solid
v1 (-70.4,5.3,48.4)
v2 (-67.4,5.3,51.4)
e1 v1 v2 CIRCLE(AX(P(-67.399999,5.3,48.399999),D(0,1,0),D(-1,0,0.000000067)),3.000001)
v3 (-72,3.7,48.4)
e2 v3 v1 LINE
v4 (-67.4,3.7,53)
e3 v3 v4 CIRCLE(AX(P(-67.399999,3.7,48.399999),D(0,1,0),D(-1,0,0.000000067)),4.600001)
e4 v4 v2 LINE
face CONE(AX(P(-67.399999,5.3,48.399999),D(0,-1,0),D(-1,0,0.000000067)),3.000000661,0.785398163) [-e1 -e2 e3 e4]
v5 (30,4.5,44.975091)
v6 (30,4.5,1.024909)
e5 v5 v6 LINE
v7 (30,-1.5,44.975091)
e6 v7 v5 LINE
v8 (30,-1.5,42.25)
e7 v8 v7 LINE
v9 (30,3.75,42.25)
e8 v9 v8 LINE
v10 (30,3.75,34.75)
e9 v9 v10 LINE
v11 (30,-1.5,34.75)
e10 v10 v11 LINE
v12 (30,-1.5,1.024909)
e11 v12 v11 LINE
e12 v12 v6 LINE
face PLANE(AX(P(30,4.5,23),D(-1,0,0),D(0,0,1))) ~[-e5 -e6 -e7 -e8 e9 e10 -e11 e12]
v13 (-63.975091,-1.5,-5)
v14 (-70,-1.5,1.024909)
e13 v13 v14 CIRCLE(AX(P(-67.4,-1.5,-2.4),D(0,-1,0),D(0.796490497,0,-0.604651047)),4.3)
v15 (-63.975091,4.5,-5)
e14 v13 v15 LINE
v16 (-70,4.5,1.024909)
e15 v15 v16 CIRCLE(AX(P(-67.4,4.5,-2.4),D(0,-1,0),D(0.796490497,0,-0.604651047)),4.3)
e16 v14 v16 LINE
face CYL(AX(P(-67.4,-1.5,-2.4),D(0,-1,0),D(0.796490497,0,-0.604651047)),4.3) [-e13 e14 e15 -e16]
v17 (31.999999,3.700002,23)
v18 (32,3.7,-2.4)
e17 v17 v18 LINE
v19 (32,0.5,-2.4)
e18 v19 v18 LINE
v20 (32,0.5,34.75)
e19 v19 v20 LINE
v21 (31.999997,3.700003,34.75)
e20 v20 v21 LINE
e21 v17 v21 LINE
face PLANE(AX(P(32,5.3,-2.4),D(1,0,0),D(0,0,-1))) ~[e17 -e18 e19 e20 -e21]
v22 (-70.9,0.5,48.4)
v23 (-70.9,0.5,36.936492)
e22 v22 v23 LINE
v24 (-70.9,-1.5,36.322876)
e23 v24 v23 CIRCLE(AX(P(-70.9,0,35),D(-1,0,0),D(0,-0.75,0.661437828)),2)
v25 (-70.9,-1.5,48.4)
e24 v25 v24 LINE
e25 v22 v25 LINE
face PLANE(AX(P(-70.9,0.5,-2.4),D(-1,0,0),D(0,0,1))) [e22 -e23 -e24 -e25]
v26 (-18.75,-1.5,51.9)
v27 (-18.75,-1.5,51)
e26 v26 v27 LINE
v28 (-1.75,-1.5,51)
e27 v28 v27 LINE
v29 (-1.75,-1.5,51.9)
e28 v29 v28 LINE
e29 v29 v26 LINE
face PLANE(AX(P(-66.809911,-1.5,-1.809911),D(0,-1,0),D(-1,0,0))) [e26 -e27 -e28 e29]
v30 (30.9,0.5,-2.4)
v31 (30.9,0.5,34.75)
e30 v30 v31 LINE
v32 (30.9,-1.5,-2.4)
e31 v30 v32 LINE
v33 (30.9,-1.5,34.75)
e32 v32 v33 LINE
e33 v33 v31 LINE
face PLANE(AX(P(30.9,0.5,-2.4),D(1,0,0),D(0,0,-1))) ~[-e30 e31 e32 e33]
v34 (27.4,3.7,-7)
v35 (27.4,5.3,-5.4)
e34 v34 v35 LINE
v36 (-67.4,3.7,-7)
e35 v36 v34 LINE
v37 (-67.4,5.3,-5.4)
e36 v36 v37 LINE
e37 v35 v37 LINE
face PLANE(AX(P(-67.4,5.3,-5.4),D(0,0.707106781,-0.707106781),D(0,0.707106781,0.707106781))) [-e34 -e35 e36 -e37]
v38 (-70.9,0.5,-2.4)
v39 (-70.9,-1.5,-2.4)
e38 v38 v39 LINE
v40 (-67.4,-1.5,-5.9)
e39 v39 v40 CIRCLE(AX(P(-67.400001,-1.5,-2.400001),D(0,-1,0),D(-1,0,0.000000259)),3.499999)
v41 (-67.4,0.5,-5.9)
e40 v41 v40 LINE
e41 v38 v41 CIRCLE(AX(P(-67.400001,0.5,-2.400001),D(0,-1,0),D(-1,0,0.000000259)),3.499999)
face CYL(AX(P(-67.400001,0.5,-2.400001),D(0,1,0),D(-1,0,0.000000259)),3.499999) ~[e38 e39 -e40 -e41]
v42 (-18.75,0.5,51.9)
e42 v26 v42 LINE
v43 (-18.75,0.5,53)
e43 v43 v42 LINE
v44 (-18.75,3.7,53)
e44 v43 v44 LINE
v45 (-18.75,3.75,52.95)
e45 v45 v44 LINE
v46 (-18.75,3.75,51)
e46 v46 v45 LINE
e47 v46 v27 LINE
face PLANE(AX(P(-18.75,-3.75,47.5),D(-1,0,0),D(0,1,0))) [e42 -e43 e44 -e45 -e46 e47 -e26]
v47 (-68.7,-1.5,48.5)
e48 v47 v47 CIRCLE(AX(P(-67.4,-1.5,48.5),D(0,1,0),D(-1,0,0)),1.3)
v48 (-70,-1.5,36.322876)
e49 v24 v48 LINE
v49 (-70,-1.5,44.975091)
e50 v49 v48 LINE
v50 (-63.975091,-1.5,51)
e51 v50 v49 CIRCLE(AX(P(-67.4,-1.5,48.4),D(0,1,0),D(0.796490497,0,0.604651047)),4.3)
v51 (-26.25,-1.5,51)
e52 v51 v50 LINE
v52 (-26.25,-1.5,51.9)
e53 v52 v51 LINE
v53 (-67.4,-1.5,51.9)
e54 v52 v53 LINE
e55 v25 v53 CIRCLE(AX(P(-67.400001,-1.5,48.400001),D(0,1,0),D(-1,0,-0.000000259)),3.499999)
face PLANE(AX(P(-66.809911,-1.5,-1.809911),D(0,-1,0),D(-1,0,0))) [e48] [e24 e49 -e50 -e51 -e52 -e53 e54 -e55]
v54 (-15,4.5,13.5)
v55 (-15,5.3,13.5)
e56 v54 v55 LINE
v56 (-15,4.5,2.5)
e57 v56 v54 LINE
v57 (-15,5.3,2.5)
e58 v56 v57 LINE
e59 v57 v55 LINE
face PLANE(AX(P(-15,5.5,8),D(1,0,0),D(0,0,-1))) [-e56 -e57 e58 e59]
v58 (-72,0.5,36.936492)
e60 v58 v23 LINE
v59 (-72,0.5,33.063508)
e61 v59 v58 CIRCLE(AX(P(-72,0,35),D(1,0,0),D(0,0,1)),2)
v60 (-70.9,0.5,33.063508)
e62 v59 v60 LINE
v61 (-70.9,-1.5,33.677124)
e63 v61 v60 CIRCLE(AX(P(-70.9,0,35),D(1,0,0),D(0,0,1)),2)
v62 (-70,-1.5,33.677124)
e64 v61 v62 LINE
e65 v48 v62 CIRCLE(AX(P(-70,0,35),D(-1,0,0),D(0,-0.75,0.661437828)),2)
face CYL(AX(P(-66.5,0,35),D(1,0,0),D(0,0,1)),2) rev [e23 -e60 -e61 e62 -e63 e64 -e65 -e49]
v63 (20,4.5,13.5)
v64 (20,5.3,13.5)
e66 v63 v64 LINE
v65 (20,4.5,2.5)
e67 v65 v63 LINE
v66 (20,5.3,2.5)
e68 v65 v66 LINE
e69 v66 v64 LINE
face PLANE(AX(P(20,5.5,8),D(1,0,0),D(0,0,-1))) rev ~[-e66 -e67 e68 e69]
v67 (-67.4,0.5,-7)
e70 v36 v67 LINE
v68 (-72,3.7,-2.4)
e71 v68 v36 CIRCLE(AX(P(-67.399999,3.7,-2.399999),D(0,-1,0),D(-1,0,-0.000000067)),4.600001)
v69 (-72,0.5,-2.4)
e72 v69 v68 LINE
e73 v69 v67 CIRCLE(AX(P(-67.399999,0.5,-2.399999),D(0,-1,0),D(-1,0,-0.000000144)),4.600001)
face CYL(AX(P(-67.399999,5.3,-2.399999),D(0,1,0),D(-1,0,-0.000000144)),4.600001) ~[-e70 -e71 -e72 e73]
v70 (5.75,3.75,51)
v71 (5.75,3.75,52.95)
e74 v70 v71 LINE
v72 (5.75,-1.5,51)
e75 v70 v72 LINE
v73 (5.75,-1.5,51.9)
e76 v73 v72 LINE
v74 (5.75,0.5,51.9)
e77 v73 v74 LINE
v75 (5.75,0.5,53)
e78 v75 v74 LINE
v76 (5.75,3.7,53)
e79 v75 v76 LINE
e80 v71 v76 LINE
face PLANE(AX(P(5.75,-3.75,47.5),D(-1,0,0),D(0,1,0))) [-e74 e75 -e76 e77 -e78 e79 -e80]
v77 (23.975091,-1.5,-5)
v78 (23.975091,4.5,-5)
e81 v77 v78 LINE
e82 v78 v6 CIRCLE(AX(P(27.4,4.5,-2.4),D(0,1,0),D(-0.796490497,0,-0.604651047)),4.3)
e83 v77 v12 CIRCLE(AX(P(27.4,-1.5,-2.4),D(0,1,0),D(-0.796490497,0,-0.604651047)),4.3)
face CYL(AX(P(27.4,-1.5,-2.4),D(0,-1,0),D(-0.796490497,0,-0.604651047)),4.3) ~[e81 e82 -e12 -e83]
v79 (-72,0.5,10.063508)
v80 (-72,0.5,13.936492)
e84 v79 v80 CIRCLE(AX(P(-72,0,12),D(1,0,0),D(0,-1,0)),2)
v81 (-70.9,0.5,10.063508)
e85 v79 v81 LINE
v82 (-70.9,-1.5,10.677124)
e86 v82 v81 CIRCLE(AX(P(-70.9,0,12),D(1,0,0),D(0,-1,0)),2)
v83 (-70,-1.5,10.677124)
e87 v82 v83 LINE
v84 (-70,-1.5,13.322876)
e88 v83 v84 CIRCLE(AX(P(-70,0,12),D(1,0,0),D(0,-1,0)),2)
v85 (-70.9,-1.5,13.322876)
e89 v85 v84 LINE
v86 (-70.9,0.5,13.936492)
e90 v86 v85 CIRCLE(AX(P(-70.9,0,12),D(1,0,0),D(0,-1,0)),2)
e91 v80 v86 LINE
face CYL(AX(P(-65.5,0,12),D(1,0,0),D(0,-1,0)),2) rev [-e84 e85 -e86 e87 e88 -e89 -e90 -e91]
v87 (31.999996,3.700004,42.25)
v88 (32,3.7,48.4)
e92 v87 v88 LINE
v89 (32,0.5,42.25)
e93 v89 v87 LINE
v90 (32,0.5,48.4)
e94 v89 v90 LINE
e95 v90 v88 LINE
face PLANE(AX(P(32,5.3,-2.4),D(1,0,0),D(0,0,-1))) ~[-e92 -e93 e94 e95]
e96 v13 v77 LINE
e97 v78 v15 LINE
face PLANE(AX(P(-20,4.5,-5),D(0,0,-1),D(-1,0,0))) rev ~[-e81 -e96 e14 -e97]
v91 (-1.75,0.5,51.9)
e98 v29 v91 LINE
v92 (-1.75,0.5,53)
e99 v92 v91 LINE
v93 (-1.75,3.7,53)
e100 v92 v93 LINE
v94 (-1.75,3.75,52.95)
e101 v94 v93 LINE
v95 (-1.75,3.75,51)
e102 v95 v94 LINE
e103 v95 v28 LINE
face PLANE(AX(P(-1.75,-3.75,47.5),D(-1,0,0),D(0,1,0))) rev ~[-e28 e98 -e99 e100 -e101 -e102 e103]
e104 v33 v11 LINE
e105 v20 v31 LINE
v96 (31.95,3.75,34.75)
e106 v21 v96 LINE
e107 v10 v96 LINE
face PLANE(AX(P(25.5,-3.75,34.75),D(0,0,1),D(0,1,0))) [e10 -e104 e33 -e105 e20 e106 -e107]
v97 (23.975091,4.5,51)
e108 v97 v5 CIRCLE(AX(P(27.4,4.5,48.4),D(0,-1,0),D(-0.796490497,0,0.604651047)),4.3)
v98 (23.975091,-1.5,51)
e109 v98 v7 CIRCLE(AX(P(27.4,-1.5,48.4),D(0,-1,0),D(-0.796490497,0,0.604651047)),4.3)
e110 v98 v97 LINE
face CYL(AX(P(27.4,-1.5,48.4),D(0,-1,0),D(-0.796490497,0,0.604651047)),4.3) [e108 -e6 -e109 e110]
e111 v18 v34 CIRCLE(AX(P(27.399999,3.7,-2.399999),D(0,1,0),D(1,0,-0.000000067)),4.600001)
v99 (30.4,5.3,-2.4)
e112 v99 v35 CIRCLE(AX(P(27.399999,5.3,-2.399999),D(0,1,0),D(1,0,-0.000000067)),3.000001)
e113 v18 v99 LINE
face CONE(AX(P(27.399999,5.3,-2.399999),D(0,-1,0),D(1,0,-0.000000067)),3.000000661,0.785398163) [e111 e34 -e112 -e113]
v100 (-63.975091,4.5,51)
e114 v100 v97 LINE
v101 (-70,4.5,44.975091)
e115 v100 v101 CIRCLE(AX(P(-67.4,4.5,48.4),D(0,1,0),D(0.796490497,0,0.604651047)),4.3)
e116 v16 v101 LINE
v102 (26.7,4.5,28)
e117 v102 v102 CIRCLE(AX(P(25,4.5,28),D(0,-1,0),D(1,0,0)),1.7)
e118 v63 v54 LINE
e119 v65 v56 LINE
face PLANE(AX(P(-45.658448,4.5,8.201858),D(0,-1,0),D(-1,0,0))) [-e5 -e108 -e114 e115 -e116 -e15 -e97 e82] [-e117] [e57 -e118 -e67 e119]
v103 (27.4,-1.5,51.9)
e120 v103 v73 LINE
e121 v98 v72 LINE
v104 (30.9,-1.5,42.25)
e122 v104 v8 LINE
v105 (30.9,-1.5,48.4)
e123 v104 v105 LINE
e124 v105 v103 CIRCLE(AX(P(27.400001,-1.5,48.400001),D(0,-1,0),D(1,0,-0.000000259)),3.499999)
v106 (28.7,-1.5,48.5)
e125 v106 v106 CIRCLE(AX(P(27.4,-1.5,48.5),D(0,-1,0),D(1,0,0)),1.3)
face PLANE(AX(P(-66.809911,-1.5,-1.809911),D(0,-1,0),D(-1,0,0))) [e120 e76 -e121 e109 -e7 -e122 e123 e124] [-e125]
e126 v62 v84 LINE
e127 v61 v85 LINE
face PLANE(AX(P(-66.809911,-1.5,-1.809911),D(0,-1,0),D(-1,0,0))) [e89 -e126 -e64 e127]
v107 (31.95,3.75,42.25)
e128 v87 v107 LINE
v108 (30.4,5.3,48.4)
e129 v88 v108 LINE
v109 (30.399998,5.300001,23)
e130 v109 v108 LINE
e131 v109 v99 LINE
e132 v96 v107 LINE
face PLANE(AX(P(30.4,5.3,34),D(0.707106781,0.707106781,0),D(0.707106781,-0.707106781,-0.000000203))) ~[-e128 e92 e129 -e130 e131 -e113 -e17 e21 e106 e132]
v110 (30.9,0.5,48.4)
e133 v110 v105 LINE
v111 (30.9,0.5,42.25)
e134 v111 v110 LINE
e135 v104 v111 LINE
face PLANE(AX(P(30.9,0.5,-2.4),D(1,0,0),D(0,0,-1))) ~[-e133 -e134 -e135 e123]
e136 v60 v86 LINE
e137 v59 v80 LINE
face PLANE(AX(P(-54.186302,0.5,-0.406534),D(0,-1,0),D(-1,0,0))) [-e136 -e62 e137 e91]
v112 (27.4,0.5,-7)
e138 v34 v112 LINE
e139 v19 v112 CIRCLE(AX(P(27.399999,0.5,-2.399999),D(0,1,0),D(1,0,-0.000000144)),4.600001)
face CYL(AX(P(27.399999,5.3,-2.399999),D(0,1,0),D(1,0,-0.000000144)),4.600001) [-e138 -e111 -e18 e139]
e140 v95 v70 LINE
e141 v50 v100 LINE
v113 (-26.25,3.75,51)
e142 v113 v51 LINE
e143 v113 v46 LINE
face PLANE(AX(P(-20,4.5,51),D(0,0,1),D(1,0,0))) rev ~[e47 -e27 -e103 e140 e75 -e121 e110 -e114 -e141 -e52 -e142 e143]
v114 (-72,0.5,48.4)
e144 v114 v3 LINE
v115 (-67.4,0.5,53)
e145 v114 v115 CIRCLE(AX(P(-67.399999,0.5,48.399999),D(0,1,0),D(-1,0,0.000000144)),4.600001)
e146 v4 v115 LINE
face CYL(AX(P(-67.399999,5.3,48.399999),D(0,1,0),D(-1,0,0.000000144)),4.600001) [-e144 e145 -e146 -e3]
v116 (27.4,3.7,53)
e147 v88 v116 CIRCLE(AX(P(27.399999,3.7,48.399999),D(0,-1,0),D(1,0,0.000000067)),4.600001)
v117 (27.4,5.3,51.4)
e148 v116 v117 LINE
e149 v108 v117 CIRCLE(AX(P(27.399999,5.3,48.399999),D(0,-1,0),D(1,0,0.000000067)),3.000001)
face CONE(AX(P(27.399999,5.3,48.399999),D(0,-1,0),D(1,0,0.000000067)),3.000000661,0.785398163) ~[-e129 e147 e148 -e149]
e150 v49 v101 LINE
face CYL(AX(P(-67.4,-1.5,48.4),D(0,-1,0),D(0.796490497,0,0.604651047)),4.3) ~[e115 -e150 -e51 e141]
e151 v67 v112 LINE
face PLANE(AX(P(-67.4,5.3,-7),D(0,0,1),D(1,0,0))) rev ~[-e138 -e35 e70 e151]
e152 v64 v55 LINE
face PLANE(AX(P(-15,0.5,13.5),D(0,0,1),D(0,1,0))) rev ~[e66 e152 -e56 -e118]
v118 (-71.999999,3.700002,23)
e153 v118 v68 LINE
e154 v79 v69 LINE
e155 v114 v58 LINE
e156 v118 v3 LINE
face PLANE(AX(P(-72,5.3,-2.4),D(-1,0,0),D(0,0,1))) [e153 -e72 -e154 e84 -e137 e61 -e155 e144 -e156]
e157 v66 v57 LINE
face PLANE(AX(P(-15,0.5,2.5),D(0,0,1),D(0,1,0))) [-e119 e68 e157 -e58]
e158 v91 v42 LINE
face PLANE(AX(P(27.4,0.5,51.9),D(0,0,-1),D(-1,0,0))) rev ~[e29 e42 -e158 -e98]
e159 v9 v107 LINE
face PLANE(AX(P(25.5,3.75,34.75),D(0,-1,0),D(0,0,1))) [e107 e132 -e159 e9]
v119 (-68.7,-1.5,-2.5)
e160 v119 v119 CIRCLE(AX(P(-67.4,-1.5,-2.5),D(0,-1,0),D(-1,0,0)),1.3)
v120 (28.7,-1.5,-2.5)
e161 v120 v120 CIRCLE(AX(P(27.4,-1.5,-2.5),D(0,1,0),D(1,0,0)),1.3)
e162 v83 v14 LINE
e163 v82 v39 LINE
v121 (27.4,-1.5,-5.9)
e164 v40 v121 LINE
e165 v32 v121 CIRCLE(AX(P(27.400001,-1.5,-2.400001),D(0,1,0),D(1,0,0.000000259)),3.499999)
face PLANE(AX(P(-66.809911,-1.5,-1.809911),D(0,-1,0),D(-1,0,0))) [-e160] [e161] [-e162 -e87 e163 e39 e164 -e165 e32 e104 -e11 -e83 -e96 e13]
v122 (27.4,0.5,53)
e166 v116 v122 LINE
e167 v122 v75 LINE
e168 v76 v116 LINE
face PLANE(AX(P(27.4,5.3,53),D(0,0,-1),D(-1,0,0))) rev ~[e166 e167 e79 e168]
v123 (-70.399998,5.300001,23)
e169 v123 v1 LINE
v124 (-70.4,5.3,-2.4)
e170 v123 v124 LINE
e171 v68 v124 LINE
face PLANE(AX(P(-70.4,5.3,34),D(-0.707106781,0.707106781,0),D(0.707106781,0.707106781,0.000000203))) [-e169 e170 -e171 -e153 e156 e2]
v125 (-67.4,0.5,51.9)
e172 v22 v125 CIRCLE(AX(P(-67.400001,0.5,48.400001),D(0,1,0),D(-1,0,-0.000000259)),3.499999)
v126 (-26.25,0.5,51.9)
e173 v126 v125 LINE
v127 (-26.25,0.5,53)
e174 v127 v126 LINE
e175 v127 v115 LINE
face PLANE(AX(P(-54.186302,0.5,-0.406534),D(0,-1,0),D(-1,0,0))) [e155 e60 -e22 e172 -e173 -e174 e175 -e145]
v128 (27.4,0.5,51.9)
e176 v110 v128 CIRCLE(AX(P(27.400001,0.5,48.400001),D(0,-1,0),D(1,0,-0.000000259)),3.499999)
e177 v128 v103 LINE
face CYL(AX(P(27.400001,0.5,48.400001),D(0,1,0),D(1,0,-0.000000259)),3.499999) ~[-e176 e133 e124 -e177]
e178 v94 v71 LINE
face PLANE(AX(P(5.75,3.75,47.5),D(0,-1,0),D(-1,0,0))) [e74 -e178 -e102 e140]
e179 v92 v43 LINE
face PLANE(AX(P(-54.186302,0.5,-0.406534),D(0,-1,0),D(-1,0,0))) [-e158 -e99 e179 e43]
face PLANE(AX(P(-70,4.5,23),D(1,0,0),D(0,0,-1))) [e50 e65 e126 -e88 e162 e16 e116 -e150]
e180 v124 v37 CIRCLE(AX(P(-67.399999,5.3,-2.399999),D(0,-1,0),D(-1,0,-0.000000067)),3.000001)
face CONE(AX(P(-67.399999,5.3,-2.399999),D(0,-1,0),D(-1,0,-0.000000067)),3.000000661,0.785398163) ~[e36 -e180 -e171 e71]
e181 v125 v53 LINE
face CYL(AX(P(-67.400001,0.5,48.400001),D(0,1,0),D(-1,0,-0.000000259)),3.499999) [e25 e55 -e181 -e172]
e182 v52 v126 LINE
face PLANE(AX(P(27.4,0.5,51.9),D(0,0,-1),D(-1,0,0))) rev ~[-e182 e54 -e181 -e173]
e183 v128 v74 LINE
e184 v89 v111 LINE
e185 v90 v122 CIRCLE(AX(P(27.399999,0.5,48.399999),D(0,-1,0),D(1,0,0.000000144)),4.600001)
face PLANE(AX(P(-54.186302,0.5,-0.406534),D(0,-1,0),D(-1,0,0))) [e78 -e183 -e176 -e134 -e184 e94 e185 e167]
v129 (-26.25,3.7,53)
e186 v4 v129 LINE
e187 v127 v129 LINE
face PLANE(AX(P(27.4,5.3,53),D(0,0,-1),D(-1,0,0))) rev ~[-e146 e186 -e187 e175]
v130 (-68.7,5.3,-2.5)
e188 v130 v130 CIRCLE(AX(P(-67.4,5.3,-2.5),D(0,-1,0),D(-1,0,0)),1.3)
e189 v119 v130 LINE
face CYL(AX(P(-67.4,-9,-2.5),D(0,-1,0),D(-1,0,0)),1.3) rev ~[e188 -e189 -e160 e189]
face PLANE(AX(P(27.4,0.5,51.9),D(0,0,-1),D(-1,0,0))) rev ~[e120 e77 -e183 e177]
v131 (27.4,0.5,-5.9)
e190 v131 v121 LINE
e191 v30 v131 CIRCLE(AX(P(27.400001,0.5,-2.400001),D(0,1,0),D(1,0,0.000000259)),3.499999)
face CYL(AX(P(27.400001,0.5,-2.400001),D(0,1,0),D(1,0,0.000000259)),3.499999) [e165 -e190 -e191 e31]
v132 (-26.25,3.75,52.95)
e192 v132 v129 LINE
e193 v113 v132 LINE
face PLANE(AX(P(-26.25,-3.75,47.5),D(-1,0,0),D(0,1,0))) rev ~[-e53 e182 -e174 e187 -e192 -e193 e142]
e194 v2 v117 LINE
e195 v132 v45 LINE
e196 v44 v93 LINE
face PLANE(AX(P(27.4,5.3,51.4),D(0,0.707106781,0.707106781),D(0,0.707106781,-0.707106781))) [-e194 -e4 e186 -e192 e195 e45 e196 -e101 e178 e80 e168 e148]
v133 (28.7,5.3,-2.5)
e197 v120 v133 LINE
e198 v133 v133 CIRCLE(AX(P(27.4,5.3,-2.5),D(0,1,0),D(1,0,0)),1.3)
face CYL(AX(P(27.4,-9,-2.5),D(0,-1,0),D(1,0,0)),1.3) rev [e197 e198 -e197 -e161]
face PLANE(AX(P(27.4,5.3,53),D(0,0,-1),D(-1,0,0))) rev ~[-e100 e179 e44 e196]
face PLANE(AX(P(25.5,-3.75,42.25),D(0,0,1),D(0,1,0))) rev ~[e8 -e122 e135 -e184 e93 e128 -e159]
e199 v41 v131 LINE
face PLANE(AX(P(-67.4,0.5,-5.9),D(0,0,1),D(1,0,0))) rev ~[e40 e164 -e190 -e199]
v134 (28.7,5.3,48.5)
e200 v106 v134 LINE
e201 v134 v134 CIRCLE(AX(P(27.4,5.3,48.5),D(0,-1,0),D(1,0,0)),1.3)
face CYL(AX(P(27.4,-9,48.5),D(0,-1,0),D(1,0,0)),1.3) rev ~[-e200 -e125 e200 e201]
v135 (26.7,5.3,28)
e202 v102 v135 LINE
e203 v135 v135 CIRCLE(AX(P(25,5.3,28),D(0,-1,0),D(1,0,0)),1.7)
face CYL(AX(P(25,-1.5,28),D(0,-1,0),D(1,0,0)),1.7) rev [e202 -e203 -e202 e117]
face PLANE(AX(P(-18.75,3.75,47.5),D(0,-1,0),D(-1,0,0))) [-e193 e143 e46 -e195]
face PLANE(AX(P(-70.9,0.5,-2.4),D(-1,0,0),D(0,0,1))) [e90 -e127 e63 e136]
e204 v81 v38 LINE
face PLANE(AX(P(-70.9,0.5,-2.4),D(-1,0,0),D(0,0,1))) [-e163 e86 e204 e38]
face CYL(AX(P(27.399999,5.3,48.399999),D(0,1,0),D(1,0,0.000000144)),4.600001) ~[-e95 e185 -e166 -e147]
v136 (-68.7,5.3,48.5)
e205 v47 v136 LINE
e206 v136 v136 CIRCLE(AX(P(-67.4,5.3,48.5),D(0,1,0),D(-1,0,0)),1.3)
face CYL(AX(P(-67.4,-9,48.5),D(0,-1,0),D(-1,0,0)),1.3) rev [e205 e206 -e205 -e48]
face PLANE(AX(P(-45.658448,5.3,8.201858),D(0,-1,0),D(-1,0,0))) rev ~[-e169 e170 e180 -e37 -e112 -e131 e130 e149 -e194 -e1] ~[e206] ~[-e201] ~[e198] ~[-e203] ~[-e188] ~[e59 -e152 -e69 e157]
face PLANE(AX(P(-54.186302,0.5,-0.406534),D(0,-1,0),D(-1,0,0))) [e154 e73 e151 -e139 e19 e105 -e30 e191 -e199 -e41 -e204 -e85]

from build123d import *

# Parameters (mm, degrees)
CYLINDER001_R           = 2
CYLINDER001_DEPTH       = 10
SKETCH037_W             = 7.5
SKETCH037_H             = 7.5
EXTRUDE045_DEPTH        = 10
BOX089_W                = 11
BOX089_H                = 10
BOX089_DEPTH            = 35
BODY005_PLACEMENT_ANGLE = 90
BODY006_PLACEMENT_ANGLE = 90
CYLINDER003_R           = 2
CYLINDER003_DEPTH       = 10
CYLINDER002_R           = 1.7
CYLINDER002_DEPTH       = 10
SKETCH005_R             = 1.3
EXTRUDE003_DEPTH        = 20
EXTRUDE039_DEPTH        = 4
EXTRUDE042_DEPTH        = 0.8
EXTRUDE002_DEPTH        = 6
EXTRUDE037_DEPTH        = 2


with BuildPart() as battery_cable:
    # Cylinder001 → Cylinder001 (new body)
    with BuildSketch(Plane(origin=(-66.5, 0, 35), x_dir=(0, 0, 1), z_dir=(-1, 0, 0))):
        Circle(CYLINDER001_R)
    extrude(amount=CYLINDER001_DEPTH)


with BuildPart() as switch_hole002:
    # Sketch037 → Extrude045 (new body)
    with BuildSketch(Plane.YZ.offset(35)):
        with Locations((0, 38.5)):
            Rectangle(SKETCH037_W, SKETCH037_H)
    extrude(amount=EXTRUDE045_DEPTH)


with BuildPart() as switch_hole002_1:
    # Extrude045 placement: moved
    add(switch_hole002.part.moved(Location((-9.5, 0, 0))))


with BuildPart() as dips001:
    # Box089 → Box089 (new body)
    with BuildSketch(Plane(origin=(-15, 0.5, 13.5), x_dir=(0, 0, -1), z_dir=(1, 0, 0))):
        with Locations((5.5, 5)):
            Rectangle(BOX089_W, BOX089_H)
    extrude(amount=BOX089_DEPTH)


with BuildPart() as switch_hole001:
    # Body005 base: copy of switch hole002
    add(switch_hole002_1.part)


with BuildPart() as switch_hole001_1:
    # Body005 placement: moved
    add(switch_hole001.part.moved(Location((40.5, 0, 22))).rotate(Axis((40.5, 0, 22), (0, -1, 0)), BODY005_PLACEMENT_ANGLE))


with BuildPart() as switch_hole:
    # Body006 base: copy of switch hole002
    add(switch_hole002_1.part)


with BuildPart() as switch_hole_1:
    # Body006 placement: moved
    add(switch_hole.part.moved(Location((16, 0, 22))).rotate(Axis((16, 0, 22), (0, -1, 0)), BODY006_PLACEMENT_ANGLE))


with BuildPart() as cable:
    # Cylinder003 → Cylinder003 (new body)
    with BuildSketch(Plane(origin=(-65.5, 0, 12), x_dir=(0, -1, 0), z_dir=(-1, 0, 0))):
        Circle(CYLINDER003_R)
    extrude(amount=CYLINDER003_DEPTH)


with BuildPart() as common_sub:
    # Cylinder002 → Cylinder002 (new body)
    with BuildSketch(Plane(origin=(25, -1.5, 28), x_dir=(1, 0, 0), z_dir=(0, 1, 0))):
        Circle(CYLINDER002_R)
    extrude(amount=CYLINDER002_DEPTH)

    # Fusion033: union battery cable, switch hole002, dips001, switch hole001, switch hole, cable
    add(battery_cable.part)
    add(switch_hole002_1.part)
    add(dips001.part)
    add(switch_hole001_1.part)
    add(switch_hole_1.part)
    add(cable.part)


with BuildPart() as sweep001:
    # Sweep001: sweep along a path in Sketch034
    with BuildLine(Plane.XZ.offset(10)) as sweep001_path:
        Line((32, 12), (32, 48.4))
        ThreePointArc((32, 48.4), (30.652691, 51.652691), (27.4, 53))
        Line((27.4, 53), (-20, 53))
    # Sketch035 → Sweep001 (sweep)
    with BuildSketch(Plane.YZ):
        Polygon((5.3, 51.4), (3.7, 53), (3.7, 54), (6, 54), (6, 51.4), align=None)
    sweep(path=sweep001_path.line)


with BuildPart() as fusion030:
    # Sketch005 → Extrude003 (new body)
    with BuildSketch(Plane.XZ.offset(5)):
        with Locations((27.4, 48.5)):
            Circle(SKETCH005_R)
    extrude(amount=-EXTRUDE003_DEPTH)


with BuildPart() as fusion030_1:
    # Extrude003 placement: moved
    add(fusion030.part.moved(Location((0, -4, 0))))

    # Fusion030: union Sweep001
    add(sweep001.part)


with BuildPart() as top003:
    # Sketch028 → Extrude039 (new body)
    with BuildSketch(Plane.XZ.offset(10)):
        with BuildLine():
            ThreePointArc((32, 48.4), (30.652691, 51.652691), (27.4, 53))
            Line((27.4, 53), (-20, 53))
            Line((-20, 53), (-20, 51))
            Line((-20, 51), (27.4, 51))
            ThreePointArc((30, 48.4), (29.238478, 50.238478), (27.4, 51))
            Line((30, 23), (30, 48.4))
            Line((32, 23), (30, 23))
            Line((32, 48.4), (32, 23))
        make_face()
    extrude(amount=EXTRUDE039_DEPTH)


with BuildPart() as top003_1:
    # Extrude039 placement: moved
    add(top003.part.moved(Location((0, 14.5, 0))))


with BuildPart() as top002:
    # Sketch031 → Extrude042 (new body)
    with BuildSketch(Plane.XZ.offset(10)):
        with BuildLine():
            ThreePointArc((32, 48.4), (30.652691, 51.652691), (27.4, 53))
            Line((27.4, 53), (-20, 53))
            Line((-20, 53), (-20, 23))
            Line((-20, 23), (32, 23))
            Line((32, 48.4), (32, 23))
        make_face()
    extrude(amount=EXTRUDE042_DEPTH)


with BuildPart() as top002_1:
    # Extrude042 placement: moved
    add(top002.part.moved(Location((0, 15.3, 0))))


with BuildPart() as screw_hole_top:
    # Sketch004 → Extrude002 (new body)
    with BuildSketch(Plane.XZ.offset(10)):
        with BuildLine():
            ThreePointArc((23.975091, 51), (24.359441, 45.359441), (30, 44.975091))
            Line((30, 44.975091), (30, 48.4))
            ThreePointArc((30, 48.4), (29.238478, 50.238478), (27.4, 51))
            Line((23.975091, 51), (27.4, 51))
        make_face()
    extrude(amount=-EXTRUDE002_DEPTH)


with BuildPart() as screw_hole_top_1:
    # Extrude002 placement: moved
    add(screw_hole_top.part.moved(Location((0, 8.5, 0))))


with BuildPart() as top:
    # Sketch029 → Extrude037 (new body)
    with BuildSketch(Plane.XZ.offset(10)):
        with BuildLine():
            ThreePointArc((30.9, 48.4), (29.874874, 50.874874), (27.4, 51.9))
            Line((27.4, 51.9), (-20, 51.9))
            Line((-20, 51.9), (-20, 51))
            Line((-20, 51), (27.4, 51))
            ThreePointArc((30, 48.4), (29.238478, 50.238478), (27.4, 51))
            Line((30, 23), (30, 48.4))
            Line((30.9, 23), (30, 23))
            Line((30.9, 48.4), (30.9, 23))
        make_face()
    extrude(amount=EXTRUDE037_DEPTH)


with BuildPart() as top_1:
    # Extrude037 placement: moved
    add(top.part.moved(Location((0, 10.5, 0))))

    # Fusion028: union top003, top002, screw hole top
    add(top003_1.part)
    add(top002_1.part)
    add(screw_hole_top_1.part)

    # Cut024: cut Fusion030
    add(fusion030_1.part, mode=Mode.SUBTRACT)


with BuildPart() as part_mirroring:
    # Part__Mirroring: instance of top
    add(top_1.part.mirror(Plane(origin=(0, 0, 23), x_dir=(0, 1, 0), z_dir=(0, 0, 1))))


with BuildPart() as part_mirroring002:
    # Part__Mirroring002: instance of Part__Mirroring
    add(part_mirroring.part.mirror(Plane(origin=(-20, 1, 0), x_dir=(0, -1, 0), z_dir=(1, 0, 0))))


with BuildPart() as top007:
    # Part__Mirroring003: instance of top
    add(top_1.part.mirror(Plane(origin=(-20, 0, 0), x_dir=(0, -1, 0), z_dir=(1, 0, 0))))

    # Fusion032: union top, Part__Mirroring, Part__Mirroring002
    add(top_1.part)
    add(part_mirroring.part)
    add(part_mirroring002.part)

    # Cut025: cut common sub
    add(common_sub.part, mode=Mode.SUBTRACT)


solid = top007.part
